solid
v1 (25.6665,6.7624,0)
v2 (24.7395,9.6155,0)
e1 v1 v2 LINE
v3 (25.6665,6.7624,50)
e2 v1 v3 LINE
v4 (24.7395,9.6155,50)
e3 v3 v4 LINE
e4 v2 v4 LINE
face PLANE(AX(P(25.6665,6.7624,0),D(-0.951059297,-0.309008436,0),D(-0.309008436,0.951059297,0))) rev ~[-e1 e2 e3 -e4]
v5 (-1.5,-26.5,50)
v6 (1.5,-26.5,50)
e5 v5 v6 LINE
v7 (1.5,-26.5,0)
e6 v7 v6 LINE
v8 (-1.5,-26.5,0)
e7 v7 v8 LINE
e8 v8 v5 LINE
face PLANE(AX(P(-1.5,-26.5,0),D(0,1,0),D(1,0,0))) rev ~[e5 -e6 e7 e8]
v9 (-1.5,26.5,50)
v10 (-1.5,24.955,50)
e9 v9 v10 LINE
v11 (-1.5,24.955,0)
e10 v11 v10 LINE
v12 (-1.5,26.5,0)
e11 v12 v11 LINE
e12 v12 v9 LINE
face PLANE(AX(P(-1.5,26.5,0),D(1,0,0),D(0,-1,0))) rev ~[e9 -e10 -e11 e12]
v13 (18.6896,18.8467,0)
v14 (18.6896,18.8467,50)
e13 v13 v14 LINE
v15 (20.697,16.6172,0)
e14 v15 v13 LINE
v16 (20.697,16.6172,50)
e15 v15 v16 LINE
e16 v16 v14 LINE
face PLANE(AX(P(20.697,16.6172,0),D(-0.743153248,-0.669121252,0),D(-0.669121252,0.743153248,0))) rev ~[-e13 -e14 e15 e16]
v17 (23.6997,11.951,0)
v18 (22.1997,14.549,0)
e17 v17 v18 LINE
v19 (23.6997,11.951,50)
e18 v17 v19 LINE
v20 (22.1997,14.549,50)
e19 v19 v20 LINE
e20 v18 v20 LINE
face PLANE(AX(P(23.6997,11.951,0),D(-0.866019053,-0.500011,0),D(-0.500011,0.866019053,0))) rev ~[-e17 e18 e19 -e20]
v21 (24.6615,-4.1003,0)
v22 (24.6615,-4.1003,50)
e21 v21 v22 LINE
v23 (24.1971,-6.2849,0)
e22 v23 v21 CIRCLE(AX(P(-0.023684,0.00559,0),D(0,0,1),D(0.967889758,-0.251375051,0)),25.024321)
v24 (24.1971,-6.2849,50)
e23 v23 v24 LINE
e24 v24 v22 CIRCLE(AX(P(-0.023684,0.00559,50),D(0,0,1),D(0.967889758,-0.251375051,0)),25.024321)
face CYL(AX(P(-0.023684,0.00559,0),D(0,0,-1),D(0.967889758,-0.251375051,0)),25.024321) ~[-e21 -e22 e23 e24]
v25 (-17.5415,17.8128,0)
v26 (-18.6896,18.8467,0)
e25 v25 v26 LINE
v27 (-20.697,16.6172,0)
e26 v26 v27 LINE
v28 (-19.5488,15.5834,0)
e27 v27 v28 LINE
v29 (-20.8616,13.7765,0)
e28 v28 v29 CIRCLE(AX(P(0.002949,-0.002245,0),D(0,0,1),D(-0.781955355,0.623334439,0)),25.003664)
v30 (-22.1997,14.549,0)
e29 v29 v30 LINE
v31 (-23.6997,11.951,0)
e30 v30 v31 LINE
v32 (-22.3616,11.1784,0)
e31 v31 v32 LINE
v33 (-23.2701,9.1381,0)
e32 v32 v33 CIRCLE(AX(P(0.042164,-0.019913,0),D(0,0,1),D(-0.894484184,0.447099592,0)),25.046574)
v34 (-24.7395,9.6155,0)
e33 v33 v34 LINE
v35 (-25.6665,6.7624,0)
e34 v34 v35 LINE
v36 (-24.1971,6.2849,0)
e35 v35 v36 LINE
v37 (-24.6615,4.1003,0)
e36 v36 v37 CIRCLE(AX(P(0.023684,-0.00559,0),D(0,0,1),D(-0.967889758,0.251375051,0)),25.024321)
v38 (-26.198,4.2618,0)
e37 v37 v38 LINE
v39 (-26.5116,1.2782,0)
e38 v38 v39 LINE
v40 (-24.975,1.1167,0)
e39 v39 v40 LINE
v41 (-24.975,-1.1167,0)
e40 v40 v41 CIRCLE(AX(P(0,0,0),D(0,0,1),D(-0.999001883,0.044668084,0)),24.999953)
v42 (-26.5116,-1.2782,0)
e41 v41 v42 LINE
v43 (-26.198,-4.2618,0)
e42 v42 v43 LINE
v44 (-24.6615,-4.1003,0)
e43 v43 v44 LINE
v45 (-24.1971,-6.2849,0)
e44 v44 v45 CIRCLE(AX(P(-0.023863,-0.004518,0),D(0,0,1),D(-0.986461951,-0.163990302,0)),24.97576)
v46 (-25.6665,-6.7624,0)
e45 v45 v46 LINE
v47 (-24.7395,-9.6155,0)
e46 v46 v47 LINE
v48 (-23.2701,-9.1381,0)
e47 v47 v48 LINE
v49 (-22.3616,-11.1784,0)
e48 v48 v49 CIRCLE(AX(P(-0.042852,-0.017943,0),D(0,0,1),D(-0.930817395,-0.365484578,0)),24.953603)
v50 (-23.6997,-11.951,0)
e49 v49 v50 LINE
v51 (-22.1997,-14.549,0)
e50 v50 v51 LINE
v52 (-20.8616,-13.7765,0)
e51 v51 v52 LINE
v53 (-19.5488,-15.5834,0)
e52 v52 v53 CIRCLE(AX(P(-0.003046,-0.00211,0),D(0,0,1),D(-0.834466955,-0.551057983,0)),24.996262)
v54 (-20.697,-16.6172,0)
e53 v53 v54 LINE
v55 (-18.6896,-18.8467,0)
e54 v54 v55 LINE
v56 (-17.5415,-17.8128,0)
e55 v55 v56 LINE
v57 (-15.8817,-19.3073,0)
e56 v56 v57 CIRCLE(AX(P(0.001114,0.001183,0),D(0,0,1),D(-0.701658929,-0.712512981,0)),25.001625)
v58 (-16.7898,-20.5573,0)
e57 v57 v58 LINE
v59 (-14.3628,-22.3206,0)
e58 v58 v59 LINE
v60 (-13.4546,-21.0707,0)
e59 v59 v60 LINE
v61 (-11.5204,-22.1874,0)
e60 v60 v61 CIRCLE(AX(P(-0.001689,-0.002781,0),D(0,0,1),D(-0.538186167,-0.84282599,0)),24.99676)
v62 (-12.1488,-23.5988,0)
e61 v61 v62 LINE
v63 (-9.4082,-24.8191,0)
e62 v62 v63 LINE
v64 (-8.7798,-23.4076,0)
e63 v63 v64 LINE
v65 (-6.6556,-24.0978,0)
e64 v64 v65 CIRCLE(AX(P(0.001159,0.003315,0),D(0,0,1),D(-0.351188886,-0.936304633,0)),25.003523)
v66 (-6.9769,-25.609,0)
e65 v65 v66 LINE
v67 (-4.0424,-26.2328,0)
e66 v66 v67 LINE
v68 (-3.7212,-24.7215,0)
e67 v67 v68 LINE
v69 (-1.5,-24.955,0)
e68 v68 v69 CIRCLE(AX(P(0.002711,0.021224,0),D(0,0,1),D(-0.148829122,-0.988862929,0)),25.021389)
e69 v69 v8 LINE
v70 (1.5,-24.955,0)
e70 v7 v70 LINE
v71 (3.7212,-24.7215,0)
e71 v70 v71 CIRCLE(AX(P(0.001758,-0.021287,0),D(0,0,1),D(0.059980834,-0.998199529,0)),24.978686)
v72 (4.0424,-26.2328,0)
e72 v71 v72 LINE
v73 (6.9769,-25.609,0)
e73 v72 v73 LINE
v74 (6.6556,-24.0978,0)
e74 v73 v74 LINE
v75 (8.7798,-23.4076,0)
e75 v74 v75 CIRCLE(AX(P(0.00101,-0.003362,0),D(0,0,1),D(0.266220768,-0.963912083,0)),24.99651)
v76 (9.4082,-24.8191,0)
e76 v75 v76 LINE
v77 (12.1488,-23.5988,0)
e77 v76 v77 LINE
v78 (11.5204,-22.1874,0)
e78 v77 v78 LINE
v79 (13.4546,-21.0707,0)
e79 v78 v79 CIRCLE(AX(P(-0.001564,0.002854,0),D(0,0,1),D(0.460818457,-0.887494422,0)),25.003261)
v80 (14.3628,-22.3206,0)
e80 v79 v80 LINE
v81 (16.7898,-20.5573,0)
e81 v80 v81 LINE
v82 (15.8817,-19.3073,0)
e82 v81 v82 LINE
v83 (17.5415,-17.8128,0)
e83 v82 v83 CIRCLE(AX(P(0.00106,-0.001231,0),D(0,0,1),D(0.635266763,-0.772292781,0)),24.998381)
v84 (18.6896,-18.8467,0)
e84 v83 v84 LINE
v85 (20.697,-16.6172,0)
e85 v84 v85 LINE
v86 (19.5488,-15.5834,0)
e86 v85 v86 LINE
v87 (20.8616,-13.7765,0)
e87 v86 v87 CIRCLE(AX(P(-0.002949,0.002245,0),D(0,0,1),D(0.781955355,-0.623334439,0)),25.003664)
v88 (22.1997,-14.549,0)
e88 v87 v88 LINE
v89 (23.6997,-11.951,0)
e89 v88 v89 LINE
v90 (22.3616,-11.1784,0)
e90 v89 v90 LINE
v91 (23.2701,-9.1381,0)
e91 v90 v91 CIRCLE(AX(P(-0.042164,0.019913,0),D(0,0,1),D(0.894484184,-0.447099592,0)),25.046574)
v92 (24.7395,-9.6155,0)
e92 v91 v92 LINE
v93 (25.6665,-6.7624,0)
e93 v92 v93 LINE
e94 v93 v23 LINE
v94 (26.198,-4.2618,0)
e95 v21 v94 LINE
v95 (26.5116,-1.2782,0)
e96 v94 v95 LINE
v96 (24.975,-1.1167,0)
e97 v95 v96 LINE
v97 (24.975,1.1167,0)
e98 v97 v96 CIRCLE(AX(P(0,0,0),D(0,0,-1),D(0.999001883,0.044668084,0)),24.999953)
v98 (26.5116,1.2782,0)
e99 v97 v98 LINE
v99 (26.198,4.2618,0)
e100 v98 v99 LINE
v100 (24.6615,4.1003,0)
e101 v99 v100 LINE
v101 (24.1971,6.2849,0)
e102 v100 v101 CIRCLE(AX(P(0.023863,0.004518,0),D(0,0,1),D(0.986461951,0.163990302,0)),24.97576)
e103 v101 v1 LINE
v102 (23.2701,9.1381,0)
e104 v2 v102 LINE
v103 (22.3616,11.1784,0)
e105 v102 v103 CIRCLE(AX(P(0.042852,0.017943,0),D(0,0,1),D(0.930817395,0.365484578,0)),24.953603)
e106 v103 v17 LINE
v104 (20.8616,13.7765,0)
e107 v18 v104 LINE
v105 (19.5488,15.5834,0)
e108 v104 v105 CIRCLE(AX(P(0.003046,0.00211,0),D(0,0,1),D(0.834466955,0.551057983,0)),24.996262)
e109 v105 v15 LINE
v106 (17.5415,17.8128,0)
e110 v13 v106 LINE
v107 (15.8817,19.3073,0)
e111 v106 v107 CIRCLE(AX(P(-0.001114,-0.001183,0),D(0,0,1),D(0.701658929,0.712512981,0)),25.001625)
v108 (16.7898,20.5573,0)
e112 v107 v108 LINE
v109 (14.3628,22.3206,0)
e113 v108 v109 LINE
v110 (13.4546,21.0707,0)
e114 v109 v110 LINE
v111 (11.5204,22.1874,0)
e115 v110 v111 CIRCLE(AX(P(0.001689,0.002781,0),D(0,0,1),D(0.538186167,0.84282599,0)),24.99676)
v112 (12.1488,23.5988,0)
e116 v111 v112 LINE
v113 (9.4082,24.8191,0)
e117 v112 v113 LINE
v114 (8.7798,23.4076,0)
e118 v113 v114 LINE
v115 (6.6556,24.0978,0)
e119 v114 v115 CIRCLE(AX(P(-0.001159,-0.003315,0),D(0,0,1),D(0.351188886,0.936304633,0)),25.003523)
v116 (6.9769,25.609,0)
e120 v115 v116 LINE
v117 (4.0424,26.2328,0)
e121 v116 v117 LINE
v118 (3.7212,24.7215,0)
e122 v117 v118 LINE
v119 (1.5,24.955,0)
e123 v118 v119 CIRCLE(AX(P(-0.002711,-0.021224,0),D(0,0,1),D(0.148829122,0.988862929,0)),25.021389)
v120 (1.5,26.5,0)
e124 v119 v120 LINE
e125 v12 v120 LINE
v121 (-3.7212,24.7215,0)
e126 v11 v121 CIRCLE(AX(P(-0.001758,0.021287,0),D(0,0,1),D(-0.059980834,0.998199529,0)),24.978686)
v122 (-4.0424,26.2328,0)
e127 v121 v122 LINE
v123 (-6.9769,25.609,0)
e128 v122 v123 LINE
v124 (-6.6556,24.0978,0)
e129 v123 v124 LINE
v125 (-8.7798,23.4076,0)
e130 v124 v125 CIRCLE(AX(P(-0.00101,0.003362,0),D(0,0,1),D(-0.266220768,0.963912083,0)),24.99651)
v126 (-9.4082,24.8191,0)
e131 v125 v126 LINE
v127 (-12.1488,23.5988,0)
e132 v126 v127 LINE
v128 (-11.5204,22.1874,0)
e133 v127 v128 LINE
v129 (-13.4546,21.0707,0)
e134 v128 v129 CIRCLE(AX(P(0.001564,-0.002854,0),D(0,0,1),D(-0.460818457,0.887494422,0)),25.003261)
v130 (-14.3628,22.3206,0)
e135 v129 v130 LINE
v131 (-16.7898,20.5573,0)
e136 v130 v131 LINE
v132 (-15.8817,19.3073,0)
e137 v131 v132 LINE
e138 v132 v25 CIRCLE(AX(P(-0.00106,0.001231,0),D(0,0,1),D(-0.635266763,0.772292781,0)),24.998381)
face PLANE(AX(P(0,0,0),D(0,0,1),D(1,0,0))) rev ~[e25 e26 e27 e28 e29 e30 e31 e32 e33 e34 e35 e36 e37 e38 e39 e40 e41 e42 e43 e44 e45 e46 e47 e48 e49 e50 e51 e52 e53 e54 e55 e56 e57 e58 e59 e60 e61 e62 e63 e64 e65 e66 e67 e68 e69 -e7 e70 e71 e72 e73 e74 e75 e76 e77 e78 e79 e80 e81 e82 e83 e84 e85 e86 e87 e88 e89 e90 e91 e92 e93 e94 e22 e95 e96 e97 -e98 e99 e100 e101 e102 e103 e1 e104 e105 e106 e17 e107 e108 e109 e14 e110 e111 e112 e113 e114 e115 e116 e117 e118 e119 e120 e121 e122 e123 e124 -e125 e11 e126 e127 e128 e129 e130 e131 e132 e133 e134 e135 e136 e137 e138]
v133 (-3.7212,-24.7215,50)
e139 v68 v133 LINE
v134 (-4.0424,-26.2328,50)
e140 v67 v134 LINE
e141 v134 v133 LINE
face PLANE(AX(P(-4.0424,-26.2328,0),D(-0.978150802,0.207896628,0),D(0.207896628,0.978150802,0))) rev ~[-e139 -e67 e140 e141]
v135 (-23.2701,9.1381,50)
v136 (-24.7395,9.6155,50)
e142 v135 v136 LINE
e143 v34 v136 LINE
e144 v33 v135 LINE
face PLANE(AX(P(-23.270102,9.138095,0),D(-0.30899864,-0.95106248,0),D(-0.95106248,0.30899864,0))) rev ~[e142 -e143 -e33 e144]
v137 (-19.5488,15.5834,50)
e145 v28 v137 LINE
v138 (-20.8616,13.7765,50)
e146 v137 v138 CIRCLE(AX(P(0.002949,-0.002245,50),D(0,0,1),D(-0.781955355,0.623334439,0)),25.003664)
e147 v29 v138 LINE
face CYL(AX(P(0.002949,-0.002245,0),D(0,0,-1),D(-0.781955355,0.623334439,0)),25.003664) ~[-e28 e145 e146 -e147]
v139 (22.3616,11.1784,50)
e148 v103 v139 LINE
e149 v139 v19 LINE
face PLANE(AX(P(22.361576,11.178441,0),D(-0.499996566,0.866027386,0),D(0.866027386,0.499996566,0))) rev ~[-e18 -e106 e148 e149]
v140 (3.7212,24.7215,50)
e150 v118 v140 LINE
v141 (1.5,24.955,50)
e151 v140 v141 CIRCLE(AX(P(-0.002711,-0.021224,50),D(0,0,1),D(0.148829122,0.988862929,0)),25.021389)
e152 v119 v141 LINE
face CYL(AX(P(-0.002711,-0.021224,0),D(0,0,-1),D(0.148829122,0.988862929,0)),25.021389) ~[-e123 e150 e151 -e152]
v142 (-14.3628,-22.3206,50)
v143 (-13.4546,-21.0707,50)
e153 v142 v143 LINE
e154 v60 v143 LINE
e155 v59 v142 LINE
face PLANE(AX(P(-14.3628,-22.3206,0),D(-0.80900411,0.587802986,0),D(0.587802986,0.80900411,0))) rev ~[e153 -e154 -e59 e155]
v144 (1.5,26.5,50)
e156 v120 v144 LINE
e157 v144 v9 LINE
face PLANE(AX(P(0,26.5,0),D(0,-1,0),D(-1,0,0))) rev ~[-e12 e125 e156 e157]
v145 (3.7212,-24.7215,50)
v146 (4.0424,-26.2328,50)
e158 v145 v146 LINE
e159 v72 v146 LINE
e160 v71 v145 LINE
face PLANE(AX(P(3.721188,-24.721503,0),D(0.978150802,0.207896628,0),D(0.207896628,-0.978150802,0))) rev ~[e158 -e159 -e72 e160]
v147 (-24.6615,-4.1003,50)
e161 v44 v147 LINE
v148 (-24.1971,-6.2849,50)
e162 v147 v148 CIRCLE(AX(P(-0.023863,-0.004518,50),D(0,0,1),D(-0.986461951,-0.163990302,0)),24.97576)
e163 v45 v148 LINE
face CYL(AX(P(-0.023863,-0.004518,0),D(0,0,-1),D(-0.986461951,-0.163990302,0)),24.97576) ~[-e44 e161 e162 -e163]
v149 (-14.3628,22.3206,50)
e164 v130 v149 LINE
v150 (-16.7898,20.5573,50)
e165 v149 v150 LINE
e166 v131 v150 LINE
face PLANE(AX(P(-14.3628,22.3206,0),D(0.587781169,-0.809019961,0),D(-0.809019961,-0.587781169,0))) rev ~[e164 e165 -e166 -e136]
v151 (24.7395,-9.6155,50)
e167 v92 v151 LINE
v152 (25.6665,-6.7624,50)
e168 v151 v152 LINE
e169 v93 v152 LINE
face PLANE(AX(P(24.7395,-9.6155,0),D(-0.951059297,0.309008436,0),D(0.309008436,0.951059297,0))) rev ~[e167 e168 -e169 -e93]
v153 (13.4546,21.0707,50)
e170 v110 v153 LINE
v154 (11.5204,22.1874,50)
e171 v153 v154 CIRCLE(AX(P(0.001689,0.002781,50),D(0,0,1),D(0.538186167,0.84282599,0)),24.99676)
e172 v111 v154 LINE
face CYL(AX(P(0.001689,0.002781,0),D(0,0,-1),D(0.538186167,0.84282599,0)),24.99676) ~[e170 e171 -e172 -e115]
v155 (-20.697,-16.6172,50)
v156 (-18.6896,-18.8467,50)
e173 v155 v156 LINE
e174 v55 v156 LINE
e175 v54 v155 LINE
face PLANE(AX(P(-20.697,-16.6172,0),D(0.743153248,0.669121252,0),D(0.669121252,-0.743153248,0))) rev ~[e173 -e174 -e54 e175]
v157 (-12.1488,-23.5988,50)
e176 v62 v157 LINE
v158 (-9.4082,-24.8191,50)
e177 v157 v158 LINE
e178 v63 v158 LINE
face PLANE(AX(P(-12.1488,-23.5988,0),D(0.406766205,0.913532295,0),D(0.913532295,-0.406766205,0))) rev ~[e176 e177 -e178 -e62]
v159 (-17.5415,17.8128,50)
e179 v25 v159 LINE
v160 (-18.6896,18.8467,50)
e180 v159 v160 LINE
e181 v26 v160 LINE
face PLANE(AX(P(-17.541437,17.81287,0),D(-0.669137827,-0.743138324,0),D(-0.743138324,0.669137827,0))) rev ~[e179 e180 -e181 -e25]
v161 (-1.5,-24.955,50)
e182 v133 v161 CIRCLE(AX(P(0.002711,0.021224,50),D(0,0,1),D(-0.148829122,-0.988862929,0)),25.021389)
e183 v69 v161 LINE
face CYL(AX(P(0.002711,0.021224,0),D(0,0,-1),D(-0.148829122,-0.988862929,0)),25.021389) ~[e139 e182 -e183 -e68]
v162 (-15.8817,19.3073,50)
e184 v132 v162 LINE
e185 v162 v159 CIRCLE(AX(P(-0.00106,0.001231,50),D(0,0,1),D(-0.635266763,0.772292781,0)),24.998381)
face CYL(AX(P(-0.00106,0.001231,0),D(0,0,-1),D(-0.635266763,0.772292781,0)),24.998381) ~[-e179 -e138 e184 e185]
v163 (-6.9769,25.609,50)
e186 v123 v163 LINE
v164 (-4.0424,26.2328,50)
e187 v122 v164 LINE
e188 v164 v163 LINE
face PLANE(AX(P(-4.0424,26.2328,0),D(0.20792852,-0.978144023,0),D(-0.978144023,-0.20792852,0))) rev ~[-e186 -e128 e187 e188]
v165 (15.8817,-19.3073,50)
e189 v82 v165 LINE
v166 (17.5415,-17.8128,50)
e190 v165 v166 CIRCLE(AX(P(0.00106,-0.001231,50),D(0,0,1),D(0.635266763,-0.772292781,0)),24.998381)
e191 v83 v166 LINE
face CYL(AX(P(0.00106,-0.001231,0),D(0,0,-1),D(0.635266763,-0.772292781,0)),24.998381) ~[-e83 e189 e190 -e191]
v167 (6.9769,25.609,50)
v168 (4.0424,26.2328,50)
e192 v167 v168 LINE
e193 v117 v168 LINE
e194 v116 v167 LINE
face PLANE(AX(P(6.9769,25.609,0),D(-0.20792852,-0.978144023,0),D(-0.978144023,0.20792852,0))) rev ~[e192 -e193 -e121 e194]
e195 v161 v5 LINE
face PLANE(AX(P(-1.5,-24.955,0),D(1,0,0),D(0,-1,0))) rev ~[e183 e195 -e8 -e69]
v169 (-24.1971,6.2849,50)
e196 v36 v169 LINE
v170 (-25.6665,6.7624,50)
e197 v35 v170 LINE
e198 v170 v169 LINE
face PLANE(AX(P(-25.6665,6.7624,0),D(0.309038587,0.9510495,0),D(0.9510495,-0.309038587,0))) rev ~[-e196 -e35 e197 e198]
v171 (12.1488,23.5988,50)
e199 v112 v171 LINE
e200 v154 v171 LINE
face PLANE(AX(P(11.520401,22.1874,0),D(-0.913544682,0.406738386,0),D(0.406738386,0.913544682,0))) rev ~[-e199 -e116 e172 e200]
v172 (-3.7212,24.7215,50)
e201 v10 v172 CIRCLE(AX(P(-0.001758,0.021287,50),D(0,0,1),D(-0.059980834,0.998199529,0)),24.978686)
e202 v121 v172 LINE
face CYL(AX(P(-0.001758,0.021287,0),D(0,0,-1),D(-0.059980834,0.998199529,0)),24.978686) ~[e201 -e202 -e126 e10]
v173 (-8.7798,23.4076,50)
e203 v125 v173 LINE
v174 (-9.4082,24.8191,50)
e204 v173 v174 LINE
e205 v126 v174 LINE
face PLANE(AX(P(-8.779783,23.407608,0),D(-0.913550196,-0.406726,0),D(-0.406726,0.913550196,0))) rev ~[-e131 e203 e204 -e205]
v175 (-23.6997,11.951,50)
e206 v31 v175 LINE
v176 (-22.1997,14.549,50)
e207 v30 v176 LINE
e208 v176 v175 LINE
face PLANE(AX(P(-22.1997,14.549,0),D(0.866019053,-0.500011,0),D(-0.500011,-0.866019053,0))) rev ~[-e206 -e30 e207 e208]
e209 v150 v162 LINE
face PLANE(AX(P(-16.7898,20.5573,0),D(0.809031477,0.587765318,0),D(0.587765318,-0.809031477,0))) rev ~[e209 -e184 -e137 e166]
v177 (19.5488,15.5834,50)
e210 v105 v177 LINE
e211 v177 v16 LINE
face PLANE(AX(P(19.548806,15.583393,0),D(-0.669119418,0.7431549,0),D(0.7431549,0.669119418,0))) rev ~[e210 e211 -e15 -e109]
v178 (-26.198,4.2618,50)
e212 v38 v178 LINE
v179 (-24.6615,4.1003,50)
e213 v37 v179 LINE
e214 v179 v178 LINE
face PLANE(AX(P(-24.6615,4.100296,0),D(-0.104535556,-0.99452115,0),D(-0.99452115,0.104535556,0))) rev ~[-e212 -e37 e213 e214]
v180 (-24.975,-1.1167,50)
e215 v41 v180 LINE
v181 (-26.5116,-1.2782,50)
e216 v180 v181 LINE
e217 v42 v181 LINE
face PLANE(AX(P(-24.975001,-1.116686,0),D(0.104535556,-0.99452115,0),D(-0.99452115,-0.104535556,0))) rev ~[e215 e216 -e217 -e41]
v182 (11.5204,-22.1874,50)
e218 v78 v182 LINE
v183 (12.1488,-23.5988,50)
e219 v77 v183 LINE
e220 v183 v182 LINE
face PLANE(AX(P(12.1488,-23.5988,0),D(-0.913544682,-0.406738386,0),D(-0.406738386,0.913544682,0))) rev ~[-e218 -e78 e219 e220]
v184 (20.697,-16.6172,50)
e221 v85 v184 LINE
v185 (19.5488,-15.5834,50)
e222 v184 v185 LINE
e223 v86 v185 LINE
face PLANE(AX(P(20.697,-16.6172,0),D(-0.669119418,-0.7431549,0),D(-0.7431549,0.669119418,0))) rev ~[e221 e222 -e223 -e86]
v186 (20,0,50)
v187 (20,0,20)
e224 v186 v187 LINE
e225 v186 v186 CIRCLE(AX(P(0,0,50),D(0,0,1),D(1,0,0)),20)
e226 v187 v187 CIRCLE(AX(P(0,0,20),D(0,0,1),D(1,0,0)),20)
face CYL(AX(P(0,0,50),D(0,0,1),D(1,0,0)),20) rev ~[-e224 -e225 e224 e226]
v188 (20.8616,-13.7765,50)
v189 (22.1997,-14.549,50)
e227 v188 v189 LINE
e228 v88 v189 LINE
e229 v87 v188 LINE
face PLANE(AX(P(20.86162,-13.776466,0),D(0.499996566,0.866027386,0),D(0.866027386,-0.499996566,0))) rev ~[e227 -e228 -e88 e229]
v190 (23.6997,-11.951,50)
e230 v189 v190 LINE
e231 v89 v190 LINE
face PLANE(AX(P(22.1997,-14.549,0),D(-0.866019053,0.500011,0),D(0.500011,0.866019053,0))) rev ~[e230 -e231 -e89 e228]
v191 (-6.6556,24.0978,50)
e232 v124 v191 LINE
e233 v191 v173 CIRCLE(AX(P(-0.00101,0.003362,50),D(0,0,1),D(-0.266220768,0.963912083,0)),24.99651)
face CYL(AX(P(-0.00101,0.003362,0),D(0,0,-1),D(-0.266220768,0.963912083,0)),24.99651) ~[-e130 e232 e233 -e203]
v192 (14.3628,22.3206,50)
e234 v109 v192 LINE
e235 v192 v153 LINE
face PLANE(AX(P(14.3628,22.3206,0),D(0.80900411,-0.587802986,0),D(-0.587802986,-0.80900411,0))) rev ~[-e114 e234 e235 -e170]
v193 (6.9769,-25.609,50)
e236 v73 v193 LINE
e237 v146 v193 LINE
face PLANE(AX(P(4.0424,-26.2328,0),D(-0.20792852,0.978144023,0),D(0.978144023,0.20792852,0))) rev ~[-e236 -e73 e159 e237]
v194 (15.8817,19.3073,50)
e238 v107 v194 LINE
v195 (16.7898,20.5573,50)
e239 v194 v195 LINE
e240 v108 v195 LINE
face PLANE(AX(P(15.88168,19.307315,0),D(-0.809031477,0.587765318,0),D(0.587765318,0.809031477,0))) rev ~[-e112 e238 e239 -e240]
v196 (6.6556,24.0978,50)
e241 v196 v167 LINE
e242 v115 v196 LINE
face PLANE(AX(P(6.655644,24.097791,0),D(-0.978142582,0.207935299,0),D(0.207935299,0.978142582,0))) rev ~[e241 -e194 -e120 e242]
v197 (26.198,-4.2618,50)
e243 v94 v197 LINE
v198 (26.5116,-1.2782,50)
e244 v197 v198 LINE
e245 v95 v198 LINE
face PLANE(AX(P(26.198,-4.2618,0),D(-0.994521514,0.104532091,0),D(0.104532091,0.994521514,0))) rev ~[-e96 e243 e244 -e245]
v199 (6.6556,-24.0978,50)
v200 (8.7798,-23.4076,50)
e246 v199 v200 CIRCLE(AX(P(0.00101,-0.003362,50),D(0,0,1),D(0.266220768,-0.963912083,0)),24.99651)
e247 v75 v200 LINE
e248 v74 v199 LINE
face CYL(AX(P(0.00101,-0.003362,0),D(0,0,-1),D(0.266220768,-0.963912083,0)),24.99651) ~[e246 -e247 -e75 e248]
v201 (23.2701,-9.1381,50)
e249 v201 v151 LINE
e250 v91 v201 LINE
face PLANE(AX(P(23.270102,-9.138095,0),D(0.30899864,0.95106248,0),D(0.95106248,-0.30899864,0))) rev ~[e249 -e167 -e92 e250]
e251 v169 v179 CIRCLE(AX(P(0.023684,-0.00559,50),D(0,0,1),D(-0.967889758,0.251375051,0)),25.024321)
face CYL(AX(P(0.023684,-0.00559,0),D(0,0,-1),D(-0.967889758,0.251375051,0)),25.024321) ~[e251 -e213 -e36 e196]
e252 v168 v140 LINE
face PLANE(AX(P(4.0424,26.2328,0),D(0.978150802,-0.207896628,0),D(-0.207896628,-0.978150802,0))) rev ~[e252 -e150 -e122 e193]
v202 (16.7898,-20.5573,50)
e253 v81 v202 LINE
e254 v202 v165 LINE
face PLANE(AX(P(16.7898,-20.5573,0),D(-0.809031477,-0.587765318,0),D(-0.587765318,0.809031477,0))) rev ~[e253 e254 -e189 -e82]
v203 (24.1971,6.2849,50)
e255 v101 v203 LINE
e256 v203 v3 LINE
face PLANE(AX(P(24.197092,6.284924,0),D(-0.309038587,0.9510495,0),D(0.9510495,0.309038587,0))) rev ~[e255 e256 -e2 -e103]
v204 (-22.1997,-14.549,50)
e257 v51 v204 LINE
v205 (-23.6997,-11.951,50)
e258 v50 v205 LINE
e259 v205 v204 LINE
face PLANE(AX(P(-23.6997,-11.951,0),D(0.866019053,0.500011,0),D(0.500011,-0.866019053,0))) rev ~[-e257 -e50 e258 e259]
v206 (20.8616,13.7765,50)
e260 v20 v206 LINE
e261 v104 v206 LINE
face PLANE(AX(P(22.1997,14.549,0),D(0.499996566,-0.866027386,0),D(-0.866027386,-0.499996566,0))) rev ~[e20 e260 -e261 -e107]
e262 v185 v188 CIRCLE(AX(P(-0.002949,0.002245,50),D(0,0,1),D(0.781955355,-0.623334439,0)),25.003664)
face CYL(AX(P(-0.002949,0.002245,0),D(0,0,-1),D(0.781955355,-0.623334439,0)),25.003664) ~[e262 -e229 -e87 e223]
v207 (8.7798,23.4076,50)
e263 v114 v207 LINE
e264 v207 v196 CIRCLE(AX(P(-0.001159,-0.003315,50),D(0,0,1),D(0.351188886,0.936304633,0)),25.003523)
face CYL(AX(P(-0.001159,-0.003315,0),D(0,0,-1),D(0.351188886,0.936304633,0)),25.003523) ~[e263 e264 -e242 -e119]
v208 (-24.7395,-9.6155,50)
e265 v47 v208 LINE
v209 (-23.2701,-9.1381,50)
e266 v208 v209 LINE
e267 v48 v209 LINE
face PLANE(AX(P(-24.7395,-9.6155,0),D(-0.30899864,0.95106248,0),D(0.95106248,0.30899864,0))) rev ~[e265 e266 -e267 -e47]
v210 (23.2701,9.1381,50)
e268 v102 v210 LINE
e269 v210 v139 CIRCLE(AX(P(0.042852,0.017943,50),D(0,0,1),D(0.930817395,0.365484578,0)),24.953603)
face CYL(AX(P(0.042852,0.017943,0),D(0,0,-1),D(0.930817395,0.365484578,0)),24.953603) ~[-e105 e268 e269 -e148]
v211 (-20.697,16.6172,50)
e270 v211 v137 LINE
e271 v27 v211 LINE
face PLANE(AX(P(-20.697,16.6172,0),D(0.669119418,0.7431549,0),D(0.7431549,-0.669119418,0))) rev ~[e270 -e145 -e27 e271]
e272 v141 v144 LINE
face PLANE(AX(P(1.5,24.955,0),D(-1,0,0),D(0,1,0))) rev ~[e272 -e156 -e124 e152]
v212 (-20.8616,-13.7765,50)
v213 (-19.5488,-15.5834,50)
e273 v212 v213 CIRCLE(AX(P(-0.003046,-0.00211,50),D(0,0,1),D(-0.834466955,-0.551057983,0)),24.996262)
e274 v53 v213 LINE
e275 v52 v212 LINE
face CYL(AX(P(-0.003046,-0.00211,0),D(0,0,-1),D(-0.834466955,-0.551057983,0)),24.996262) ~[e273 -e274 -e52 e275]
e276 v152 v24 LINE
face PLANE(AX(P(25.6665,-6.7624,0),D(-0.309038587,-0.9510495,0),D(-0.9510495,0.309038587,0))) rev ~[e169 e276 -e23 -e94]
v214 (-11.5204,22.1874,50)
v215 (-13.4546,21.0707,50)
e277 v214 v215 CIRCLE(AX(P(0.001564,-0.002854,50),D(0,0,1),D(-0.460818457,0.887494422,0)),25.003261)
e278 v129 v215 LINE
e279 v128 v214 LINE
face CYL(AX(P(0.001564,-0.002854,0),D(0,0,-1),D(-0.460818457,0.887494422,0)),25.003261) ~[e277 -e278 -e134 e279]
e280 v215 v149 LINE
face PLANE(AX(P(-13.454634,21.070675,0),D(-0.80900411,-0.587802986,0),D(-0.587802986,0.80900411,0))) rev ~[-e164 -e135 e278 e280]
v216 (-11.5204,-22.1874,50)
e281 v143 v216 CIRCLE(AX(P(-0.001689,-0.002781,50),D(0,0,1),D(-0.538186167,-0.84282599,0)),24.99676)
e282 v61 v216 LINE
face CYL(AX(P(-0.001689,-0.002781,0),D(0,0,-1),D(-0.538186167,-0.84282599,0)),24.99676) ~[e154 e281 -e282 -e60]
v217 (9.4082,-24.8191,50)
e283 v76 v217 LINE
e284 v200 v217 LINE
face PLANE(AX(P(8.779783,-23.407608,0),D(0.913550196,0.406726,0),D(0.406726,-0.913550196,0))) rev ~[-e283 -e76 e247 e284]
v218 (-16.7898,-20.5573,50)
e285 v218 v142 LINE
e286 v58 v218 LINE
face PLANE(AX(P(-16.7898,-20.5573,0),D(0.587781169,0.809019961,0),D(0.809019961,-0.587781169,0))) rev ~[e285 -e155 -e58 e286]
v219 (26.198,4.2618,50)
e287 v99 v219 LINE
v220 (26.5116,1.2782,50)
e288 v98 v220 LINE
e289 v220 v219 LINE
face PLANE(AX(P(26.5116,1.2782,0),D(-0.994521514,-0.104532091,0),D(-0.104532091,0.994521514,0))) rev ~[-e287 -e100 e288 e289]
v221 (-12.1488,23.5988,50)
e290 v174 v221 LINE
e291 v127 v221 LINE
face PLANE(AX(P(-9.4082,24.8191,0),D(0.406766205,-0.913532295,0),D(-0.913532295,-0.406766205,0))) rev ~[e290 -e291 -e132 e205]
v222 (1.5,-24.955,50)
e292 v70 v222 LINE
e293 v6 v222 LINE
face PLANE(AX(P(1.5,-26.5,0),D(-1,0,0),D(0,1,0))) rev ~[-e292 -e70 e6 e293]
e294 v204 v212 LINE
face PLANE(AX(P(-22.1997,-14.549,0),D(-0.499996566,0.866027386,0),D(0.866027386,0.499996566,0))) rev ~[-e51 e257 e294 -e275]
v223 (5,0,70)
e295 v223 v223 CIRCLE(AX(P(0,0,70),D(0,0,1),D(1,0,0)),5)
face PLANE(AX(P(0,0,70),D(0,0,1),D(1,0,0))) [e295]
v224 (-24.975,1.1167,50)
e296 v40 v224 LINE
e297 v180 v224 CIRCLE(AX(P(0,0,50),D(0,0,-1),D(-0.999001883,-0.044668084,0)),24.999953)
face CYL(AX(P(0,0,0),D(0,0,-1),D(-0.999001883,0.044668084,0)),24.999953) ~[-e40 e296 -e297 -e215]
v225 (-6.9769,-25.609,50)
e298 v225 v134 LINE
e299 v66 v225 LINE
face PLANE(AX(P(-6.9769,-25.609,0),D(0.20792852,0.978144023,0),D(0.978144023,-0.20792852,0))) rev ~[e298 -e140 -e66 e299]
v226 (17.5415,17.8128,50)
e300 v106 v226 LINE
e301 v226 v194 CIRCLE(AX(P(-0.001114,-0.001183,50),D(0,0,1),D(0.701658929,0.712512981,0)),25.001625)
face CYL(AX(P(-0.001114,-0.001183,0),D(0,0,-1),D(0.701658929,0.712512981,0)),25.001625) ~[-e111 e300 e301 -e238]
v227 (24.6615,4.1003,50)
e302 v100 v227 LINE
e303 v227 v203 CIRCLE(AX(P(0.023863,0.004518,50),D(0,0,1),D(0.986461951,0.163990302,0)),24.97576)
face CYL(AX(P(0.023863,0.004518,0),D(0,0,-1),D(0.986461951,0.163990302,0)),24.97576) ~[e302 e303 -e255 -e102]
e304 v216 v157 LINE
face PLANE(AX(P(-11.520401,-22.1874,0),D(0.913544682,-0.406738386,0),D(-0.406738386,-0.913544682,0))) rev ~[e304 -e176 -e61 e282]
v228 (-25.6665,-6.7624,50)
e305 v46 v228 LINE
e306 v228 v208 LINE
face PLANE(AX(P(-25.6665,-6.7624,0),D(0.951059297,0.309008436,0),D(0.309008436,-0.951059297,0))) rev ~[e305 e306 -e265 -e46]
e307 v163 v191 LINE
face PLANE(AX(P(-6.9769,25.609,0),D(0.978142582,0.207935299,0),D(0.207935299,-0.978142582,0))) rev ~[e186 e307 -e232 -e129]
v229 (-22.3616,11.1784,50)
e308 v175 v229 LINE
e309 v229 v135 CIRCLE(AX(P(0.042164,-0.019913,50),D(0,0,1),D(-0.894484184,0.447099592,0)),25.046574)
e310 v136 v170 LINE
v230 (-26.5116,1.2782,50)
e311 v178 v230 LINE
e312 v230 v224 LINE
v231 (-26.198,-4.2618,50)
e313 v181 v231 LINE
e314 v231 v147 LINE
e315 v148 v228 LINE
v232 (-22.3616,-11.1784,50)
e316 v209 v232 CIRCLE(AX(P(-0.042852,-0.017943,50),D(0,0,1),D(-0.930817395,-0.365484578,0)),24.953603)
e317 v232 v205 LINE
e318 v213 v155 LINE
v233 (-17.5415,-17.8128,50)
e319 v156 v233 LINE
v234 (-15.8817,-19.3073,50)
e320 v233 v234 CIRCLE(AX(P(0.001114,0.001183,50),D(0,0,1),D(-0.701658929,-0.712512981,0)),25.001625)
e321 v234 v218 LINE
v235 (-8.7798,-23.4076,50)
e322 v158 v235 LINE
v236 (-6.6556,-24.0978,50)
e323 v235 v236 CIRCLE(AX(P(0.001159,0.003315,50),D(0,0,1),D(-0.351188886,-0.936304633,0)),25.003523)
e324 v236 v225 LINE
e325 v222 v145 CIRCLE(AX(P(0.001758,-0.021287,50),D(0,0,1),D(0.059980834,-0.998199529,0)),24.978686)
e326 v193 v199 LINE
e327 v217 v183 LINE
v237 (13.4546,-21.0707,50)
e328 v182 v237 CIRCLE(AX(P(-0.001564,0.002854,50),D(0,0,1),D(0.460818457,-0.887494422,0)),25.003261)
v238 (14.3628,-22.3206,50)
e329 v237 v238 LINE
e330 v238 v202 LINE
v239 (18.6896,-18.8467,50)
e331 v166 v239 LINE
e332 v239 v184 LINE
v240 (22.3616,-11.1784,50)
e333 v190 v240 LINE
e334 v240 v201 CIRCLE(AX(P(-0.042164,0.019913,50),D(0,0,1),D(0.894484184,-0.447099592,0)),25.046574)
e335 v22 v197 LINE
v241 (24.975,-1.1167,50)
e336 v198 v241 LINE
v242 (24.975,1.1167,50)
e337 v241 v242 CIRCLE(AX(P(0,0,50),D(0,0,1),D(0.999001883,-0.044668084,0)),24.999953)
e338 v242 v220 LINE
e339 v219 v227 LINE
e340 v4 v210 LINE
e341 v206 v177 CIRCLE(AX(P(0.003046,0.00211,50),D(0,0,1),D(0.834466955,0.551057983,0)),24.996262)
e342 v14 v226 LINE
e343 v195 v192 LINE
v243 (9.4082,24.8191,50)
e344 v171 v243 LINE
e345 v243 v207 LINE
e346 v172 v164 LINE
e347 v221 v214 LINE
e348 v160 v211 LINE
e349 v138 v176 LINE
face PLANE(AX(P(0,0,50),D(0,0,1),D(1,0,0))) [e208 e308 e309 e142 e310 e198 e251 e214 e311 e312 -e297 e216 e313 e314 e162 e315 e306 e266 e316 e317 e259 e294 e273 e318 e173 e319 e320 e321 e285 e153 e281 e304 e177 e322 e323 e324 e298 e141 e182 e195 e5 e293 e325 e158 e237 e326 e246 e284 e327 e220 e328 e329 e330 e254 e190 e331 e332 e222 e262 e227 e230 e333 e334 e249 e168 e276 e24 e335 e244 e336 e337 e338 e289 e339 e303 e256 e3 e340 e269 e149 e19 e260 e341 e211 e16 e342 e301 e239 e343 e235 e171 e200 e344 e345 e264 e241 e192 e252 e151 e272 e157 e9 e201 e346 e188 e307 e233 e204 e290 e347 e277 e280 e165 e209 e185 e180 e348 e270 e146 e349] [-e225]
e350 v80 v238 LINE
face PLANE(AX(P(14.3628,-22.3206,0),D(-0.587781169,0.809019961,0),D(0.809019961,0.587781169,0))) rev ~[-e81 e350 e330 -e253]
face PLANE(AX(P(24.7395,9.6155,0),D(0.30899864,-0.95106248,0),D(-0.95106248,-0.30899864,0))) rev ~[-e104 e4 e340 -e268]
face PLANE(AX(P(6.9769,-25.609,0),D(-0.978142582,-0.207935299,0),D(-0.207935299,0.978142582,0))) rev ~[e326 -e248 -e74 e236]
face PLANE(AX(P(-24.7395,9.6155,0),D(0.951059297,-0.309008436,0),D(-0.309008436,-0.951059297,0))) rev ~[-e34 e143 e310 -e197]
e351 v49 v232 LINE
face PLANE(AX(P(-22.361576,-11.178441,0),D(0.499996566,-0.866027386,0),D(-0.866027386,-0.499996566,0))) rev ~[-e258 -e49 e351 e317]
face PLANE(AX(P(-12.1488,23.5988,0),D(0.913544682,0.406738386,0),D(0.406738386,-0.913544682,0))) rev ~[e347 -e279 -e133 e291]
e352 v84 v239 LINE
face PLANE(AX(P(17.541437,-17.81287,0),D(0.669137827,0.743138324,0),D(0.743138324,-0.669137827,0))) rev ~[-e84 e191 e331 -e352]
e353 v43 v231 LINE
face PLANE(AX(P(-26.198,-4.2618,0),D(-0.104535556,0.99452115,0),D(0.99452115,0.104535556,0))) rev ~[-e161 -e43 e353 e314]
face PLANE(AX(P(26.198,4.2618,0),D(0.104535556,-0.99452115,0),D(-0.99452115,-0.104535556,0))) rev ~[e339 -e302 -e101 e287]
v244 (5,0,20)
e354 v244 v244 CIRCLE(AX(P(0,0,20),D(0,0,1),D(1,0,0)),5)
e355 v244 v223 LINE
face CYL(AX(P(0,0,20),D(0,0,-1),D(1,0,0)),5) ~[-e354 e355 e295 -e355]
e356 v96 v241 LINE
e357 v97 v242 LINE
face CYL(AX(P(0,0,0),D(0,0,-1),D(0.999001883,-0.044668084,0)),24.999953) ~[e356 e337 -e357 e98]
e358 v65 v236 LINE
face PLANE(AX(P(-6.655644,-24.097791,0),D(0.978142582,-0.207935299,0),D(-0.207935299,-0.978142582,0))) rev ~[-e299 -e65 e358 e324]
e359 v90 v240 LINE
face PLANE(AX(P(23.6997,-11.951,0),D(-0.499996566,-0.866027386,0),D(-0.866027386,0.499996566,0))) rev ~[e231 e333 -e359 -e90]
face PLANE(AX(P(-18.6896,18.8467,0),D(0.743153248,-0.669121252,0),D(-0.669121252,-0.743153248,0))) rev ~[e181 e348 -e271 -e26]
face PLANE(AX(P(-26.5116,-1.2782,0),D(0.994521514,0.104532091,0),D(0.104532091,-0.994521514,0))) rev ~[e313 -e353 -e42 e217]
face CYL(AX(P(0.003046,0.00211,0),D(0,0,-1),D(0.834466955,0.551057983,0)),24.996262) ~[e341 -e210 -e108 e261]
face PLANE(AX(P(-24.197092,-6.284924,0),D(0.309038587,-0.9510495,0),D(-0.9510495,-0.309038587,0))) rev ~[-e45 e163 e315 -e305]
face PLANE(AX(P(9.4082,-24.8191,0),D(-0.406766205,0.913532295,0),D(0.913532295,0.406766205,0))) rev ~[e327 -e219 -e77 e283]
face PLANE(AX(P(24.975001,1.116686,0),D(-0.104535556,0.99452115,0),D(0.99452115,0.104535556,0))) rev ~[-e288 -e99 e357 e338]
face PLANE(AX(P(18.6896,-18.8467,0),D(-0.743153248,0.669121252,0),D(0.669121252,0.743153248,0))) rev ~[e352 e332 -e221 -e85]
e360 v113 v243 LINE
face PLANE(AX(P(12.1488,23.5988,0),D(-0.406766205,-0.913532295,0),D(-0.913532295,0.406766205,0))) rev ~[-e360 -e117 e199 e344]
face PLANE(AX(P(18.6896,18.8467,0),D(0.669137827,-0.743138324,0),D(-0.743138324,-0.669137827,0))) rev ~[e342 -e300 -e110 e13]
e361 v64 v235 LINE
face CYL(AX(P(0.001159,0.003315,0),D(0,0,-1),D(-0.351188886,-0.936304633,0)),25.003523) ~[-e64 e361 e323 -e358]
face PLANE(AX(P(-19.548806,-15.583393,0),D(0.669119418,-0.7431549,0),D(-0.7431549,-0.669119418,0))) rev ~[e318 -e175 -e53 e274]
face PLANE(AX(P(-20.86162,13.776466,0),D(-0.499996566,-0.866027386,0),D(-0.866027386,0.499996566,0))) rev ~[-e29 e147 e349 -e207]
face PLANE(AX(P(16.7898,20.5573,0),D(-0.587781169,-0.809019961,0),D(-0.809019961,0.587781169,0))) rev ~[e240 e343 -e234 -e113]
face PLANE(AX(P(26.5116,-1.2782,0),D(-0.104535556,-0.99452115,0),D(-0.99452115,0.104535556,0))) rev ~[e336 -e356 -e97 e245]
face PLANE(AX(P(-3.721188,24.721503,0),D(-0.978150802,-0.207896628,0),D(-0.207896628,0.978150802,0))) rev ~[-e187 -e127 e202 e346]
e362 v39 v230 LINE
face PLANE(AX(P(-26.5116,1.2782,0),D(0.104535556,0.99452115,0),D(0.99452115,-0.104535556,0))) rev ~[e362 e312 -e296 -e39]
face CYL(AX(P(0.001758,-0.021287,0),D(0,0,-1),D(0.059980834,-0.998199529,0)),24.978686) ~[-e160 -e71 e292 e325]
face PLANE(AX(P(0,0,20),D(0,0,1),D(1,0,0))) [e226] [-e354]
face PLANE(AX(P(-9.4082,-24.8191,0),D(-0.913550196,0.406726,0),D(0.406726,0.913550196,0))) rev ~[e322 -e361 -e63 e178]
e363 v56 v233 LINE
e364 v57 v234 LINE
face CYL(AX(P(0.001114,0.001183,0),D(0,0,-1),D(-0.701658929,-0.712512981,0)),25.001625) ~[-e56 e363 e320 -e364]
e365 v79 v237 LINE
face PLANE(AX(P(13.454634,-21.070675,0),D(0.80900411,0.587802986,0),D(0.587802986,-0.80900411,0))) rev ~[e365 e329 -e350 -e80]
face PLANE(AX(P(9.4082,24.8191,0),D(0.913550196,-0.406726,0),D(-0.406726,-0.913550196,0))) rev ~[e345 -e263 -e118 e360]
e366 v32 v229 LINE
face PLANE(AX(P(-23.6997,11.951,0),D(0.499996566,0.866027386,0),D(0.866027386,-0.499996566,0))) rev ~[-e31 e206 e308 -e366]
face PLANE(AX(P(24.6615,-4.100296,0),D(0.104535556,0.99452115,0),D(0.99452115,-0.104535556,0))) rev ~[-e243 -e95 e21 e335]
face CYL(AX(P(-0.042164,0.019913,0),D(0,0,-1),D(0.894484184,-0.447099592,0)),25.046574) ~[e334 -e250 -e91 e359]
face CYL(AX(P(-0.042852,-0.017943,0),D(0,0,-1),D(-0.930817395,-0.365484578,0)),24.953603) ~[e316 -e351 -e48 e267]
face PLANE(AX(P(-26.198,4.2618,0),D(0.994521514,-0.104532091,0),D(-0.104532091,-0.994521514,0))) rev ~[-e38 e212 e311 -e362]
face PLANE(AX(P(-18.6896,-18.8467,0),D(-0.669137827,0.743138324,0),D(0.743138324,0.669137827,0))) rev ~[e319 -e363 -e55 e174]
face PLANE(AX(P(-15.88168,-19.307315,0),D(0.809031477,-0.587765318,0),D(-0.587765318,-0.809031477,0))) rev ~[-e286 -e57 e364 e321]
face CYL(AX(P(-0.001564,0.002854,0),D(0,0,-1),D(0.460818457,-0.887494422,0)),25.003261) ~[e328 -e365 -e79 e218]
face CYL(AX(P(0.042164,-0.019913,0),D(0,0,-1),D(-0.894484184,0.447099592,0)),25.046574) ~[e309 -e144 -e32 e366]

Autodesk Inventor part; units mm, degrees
ref_plane "YZ Plane" through (0, 0, 0) normal (1, 0, 0) x (0, 1, 0)
ref_plane "XZ Plane" through (0, 0, 0) normal (0, 1, 0) x (-1, 0, 0)
ref_plane "XY Plane" through (0, 0, 0) normal (0, 0, 1) x (1, 0, 0)
sketch "スケッチ1" plane through (0, 0, 0) normal (0, 0, 1) x (1, 0, 0)
  line L0 (-37.1163, 0) -> (37.1163, 0) projected
  line L1 (0, -37.1) -> (0, 37.1) projected
  line L2 (1.5, 23.5) -> (1.5, 26.5)
  line L3 (1.5, 26.5) -> (-1.5, 26.5)
  line L4 (-1.5, 26.5) -> (-1.5, 23.5)
  line L5 (-1.5, 23.5) -> (1.5, 23.5)
  line L6 (1.5, 23.5) -> (-1.5, 26.5) construction
  line L7 (1.5, 26.5) -> (-1.5, 23.5) construction
  line L8 (-6.9769, 25.609) -> (-6.3531, 22.6746)
  line L9 (-4.0424, 26.2328) -> (-6.9769, 25.609)
  line L10 (-3.4187, 23.2983) -> (-4.0424, 26.2328)
  line L11 (-6.3531, 22.6746) -> (-3.4187, 23.2983)
  line L12 (-12.1488, 23.5988) -> (-10.9286, 20.8582)
  line L13 (-9.4082, 24.8191) -> (-12.1488, 23.5988)
  line L14 (-8.188, 22.0784) -> (-9.4082, 24.8191)
  line L15 (-10.9286, 20.8582) -> (-8.188, 22.0784)
  line L16 (-16.7898, 20.5573) -> (-15.0265, 18.1302)
  line L17 (-14.3628, 22.3206) -> (-16.7898, 20.5573)
  line L18 (-12.5994, 19.8936) -> (-14.3628, 22.3206)
  line L19 (-15.0265, 18.1302) -> (-12.5994, 19.8936)
  line L20 (-20.697, 16.6172) -> (-18.4676, 14.6099)
  line L21 (-18.6896, 18.8467) -> (-20.697, 16.6172)
  line L22 (-16.4602, 16.8393) -> (-18.6896, 18.8467)
  line L23 (-18.4676, 14.6099) -> (-16.4602, 16.8393)
  line L24 (-23.6997, 11.951) -> (-21.1016, 10.451)
  line L25 (-22.1997, 14.549) -> (-23.6997, 11.951)
  line L26 (-19.6016, 13.049) -> (-22.1997, 14.549)
  line L27 (-21.1016, 10.451) -> (-19.6016, 13.049)
  line L28 (-25.6665, 6.7624) -> (-22.8134, 5.8353)
  line L29 (-24.7395, 9.6155) -> (-25.6665, 6.7624)
  line L30 (-21.8863, 8.6885) -> (-24.7395, 9.6155)
  line L31 (-22.8134, 5.8353) -> (-21.8863, 8.6885)
  line L32 (-26.5116, 1.2782) -> (-23.5281, 0.9646)
  line L33 (-26.198, 4.2618) -> (-26.5116, 1.2782)
  line L34 (-23.2145, 3.9482) -> (-26.198, 4.2618)
  line L35 (-23.5281, 0.9646) -> (-23.2145, 3.9482)
  line L36 (-26.198, -4.2618) -> (-23.2145, -3.9482)
  line L37 (-26.5116, -1.2782) -> (-26.198, -4.2618)
  line L38 (-23.5281, -0.9646) -> (-26.5116, -1.2782)
  line L39 (-23.2145, -3.9482) -> (-23.5281, -0.9646)
  line L40 (-24.7395, -9.6155) -> (-21.8863, -8.6885)
  line L41 (-25.6665, -6.7624) -> (-24.7395, -9.6155)
  line L42 (-22.8134, -5.8353) -> (-25.6665, -6.7624)
  line L43 (-21.8863, -8.6885) -> (-22.8134, -5.8353)
  line L44 (-22.1997, -14.549) -> (-19.6016, -13.049)
  line L45 (-23.6997, -11.951) -> (-22.1997, -14.549)
  line L46 (-21.1016, -10.451) -> (-23.6997, -11.951)
  line L47 (-19.6016, -13.049) -> (-21.1016, -10.451)
  line L48 (-18.6896, -18.8467) -> (-16.4602, -16.8393)
  line L49 (-20.697, -16.6172) -> (-18.6896, -18.8467)
  line L50 (-18.4676, -14.6099) -> (-20.697, -16.6172)
  line L51 (-16.4602, -16.8393) -> (-18.4676, -14.6099)
  line L52 (-14.3628, -22.3206) -> (-12.5994, -19.8936)
  line L53 (-16.7898, -20.5573) -> (-14.3628, -22.3206)
  line L54 (-15.0265, -18.1302) -> (-16.7898, -20.5573)
  line L55 (-12.5994, -19.8936) -> (-15.0265, -18.1302)
  line L56 (-9.4082, -24.8191) -> (-8.188, -22.0784)
  line L57 (-12.1488, -23.5988) -> (-9.4082, -24.8191)
  line L58 (-10.9286, -20.8582) -> (-12.1488, -23.5988)
  line L59 (-8.188, -22.0784) -> (-10.9286, -20.8582)
  line L60 (-4.0424, -26.2328) -> (-3.4187, -23.2983)
  line L61 (-6.9769, -25.609) -> (-4.0424, -26.2328)
  line L62 (-6.3531, -22.6746) -> (-6.9769, -25.609)
  line L63 (-3.4187, -23.2983) -> (-6.3531, -22.6746)
  line L64 (1.5, -26.5) -> (1.5, -23.5)
  line L65 (-1.5, -26.5) -> (1.5, -26.5)
  line L66 (-1.5, -23.5) -> (-1.5, -26.5)
  line L67 (1.5, -23.5) -> (-1.5, -23.5)
  line L68 (6.9769, -25.609) -> (6.3531, -22.6746)
  line L69 (4.0424, -26.2328) -> (6.9769, -25.609)
  line L70 (3.4187, -23.2983) -> (4.0424, -26.2328)
  line L71 (6.3531, -22.6746) -> (3.4187, -23.2983)
  line L72 (12.1488, -23.5988) -> (10.9286, -20.8582)
  line L73 (9.4082, -24.8191) -> (12.1488, -23.5988)
  line L74 (8.188, -22.0784) -> (9.4082, -24.8191)
  line L75 (10.9286, -20.8582) -> (8.188, -22.0784)
  line L76 (16.7898, -20.5573) -> (15.0265, -18.1302)
  line L77 (14.3628, -22.3206) -> (16.7898, -20.5573)
  line L78 (12.5994, -19.8936) -> (14.3628, -22.3206)
  line L79 (15.0265, -18.1302) -> (12.5994, -19.8936)
  line L80 (20.697, -16.6172) -> (18.4676, -14.6099)
  line L81 (18.6896, -18.8467) -> (20.697, -16.6172)
  line L82 (16.4602, -16.8393) -> (18.6896, -18.8467)
  line L83 (18.4676, -14.6099) -> (16.4602, -16.8393)
  line L84 (23.6997, -11.951) -> (21.1016, -10.451)
  line L85 (22.1997, -14.549) -> (23.6997, -11.951)
  line L86 (19.6016, -13.049) -> (22.1997, -14.549)
  line L87 (21.1016, -10.451) -> (19.6016, -13.049)
  line L88 (25.6665, -6.7624) -> (22.8134, -5.8353)
  line L89 (24.7395, -9.6155) -> (25.6665, -6.7624)
  line L90 (21.8863, -8.6885) -> (24.7395, -9.6155)
  line L91 (22.8134, -5.8353) -> (21.8863, -8.6885)
  line L92 (26.5116, -1.2782) -> (23.5281, -0.9646)
  line L93 (26.198, -4.2618) -> (26.5116, -1.2782)
  line L94 (23.2145, -3.9482) -> (26.198, -4.2618)
  line L95 (23.5281, -0.9646) -> (23.2145, -3.9482)
  line L96 (26.198, 4.2618) -> (23.2145, 3.9482)
  line L97 (26.5116, 1.2782) -> (26.198, 4.2618)
  line L98 (23.5281, 0.9646) -> (26.5116, 1.2782)
  line L99 (23.2145, 3.9482) -> (23.5281, 0.9646)
  line L100 (24.7395, 9.6155) -> (21.8863, 8.6885)
  line L101 (25.6665, 6.7624) -> (24.7395, 9.6155)
  line L102 (22.8134, 5.8353) -> (25.6665, 6.7624)
  line L103 (21.8863, 8.6885) -> (22.8134, 5.8353)
  line L104 (22.1997, 14.549) -> (19.6016, 13.049)
  line L105 (23.6997, 11.951) -> (22.1997, 14.549)
  line L106 (21.1016, 10.451) -> (23.6997, 11.951)
  line L107 (19.6016, 13.049) -> (21.1016, 10.451)
  line L108 (18.6896, 18.8467) -> (16.4602, 16.8393)
  line L109 (20.697, 16.6172) -> (18.6896, 18.8467)
  line L110 (18.4676, 14.6099) -> (20.697, 16.6172)
  line L111 (16.4602, 16.8393) -> (18.4676, 14.6099)
  line L112 (14.3628, 22.3206) -> (12.5994, 19.8936)
  line L113 (16.7898, 20.5573) -> (14.3628, 22.3206)
  line L114 (15.0265, 18.1302) -> (16.7898, 20.5573)
  line L115 (12.5994, 19.8936) -> (15.0265, 18.1302)
  line L116 (9.4082, 24.8191) -> (8.188, 22.0784)
  line L117 (12.1488, 23.5988) -> (9.4082, 24.8191)
  line L118 (10.9286, 20.8582) -> (12.1488, 23.5988)
  line L119 (8.188, 22.0784) -> (10.9286, 20.8582)
  line L120 (4.0424, 26.2328) -> (3.4187, 23.2983)
  line L121 (6.9769, 25.609) -> (4.0424, 26.2328)
  line L122 (6.3531, 22.6746) -> (6.9769, 25.609)
  line L123 (3.4187, 23.2983) -> (6.3531, 22.6746)
  arc A0 (-6.6556, 24.0978) -> (-8.7798, 23.4076) centre (0, 0) ccw
  arc A1 (-11.5204, 22.1874) -> (-13.4546, 21.0707) centre (0, 0) ccw
  arc A2 (-15.8817, 19.3073) -> (-17.5415, 17.8128) centre (0, 0) ccw
  arc A3 (-19.5488, 15.5834) -> (-20.8616, 13.7765) centre (0, 0) ccw
  arc A4 (-22.3616, 11.1784) -> (-23.2701, 9.1381) centre (0, 0) ccw
  arc A5 (-24.1971, 6.2849) -> (-24.6615, 4.1003) centre (0, 0) ccw
  arc A6 (-24.975, 1.1167) -> (-24.975, -1.1167) centre (0, 0) ccw
  arc A7 (-24.6615, -4.1003) -> (-24.1971, -6.2849) centre (0, 0) ccw
  arc A8 (-23.2701, -9.1381) -> (-22.3616, -11.1784) centre (0, 0) ccw
  arc A9 (-1.5, 24.955) -> (-3.7212, 24.7215) centre (0, 0) ccw
  arc A10 (3.7212, 24.7215) -> (1.5, 24.955) centre (0, 0) ccw
  arc A11 (8.7798, 23.4076) -> (6.6556, 24.0978) centre (0, 0) ccw
  arc A12 (13.4546, 21.0707) -> (11.5204, 22.1874) centre (0, 0) ccw
  arc A13 (17.5415, 17.8128) -> (15.8817, 19.3073) centre (0, 0) ccw
  arc A14 (20.8616, 13.7765) -> (19.5488, 15.5834) centre (0, 0) ccw
  arc A15 (23.2701, 9.1381) -> (22.3616, 11.1784) centre (0, 0) ccw
  arc A16 (24.6615, 4.1003) -> (24.1971, 6.2849) centre (0, 0) ccw
  arc A17 (24.975, -1.1167) -> (24.975, 1.1167) centre (0, 0) ccw
  arc A18 (24.1971, -6.2849) -> (24.6615, -4.1003) centre (0, 0) ccw
  arc A19 (22.3616, -11.1784) -> (23.2701, -9.1381) centre (0, 0) ccw
  arc A20 (19.5488, -15.5834) -> (20.8616, -13.7765) centre (0, 0) ccw
  arc A21 (15.8817, -19.3073) -> (17.5415, -17.8128) centre (0, 0) ccw
  arc A22 (11.5204, -22.1874) -> (13.4546, -21.0707) centre (0, 0) ccw
  arc A23 (6.6556, -24.0978) -> (8.7798, -23.4076) centre (0, 0) ccw
  arc A24 (1.5, -24.955) -> (3.7212, -24.7215) centre (0, 0) ccw
  arc A25 (-3.7212, -24.7215) -> (-1.5, -24.955) centre (0, 0) ccw
  arc A26 (-8.7798, -23.4076) -> (-6.6556, -24.0978) centre (0, 0) ccw
  arc A27 (-13.4546, -21.0707) -> (-11.5204, -22.1874) centre (0, 0) ccw
  arc A28 (-20.8616, -13.7765) -> (-19.5488, -15.5834) centre (0, 0) ccw
  arc A29 (-17.5415, -17.8128) -> (-15.8817, -19.3073) centre (0, 0) ccw
  point P0 (0, 25)
  dimension "d1" = 3
  dimension "d2" = 3
  dimension "d5" = 360
extrude "押し出し1" add sketch "スケッチ1" along normal blind 50
sketch "スケッチ2" plane through (0, 0, 50) normal (0, 0, 1) x (1, 0, 0)
  circle A0 centre (0, 0) radius 20
  dimension "d9" = 40
extrude "押し出し2" cut sketch "スケッチ2" against normal blind 30
sketch "スケッチ3" plane through (0, 0, 20) normal (0, 0, 1) x (1, 0, 0)
  circle A0 centre (0, 0) radius 5
  dimension "d12" = 10
extrude "押し出し3" add sketch "スケッチ3" along normal blind 50
properties part number "tire"
